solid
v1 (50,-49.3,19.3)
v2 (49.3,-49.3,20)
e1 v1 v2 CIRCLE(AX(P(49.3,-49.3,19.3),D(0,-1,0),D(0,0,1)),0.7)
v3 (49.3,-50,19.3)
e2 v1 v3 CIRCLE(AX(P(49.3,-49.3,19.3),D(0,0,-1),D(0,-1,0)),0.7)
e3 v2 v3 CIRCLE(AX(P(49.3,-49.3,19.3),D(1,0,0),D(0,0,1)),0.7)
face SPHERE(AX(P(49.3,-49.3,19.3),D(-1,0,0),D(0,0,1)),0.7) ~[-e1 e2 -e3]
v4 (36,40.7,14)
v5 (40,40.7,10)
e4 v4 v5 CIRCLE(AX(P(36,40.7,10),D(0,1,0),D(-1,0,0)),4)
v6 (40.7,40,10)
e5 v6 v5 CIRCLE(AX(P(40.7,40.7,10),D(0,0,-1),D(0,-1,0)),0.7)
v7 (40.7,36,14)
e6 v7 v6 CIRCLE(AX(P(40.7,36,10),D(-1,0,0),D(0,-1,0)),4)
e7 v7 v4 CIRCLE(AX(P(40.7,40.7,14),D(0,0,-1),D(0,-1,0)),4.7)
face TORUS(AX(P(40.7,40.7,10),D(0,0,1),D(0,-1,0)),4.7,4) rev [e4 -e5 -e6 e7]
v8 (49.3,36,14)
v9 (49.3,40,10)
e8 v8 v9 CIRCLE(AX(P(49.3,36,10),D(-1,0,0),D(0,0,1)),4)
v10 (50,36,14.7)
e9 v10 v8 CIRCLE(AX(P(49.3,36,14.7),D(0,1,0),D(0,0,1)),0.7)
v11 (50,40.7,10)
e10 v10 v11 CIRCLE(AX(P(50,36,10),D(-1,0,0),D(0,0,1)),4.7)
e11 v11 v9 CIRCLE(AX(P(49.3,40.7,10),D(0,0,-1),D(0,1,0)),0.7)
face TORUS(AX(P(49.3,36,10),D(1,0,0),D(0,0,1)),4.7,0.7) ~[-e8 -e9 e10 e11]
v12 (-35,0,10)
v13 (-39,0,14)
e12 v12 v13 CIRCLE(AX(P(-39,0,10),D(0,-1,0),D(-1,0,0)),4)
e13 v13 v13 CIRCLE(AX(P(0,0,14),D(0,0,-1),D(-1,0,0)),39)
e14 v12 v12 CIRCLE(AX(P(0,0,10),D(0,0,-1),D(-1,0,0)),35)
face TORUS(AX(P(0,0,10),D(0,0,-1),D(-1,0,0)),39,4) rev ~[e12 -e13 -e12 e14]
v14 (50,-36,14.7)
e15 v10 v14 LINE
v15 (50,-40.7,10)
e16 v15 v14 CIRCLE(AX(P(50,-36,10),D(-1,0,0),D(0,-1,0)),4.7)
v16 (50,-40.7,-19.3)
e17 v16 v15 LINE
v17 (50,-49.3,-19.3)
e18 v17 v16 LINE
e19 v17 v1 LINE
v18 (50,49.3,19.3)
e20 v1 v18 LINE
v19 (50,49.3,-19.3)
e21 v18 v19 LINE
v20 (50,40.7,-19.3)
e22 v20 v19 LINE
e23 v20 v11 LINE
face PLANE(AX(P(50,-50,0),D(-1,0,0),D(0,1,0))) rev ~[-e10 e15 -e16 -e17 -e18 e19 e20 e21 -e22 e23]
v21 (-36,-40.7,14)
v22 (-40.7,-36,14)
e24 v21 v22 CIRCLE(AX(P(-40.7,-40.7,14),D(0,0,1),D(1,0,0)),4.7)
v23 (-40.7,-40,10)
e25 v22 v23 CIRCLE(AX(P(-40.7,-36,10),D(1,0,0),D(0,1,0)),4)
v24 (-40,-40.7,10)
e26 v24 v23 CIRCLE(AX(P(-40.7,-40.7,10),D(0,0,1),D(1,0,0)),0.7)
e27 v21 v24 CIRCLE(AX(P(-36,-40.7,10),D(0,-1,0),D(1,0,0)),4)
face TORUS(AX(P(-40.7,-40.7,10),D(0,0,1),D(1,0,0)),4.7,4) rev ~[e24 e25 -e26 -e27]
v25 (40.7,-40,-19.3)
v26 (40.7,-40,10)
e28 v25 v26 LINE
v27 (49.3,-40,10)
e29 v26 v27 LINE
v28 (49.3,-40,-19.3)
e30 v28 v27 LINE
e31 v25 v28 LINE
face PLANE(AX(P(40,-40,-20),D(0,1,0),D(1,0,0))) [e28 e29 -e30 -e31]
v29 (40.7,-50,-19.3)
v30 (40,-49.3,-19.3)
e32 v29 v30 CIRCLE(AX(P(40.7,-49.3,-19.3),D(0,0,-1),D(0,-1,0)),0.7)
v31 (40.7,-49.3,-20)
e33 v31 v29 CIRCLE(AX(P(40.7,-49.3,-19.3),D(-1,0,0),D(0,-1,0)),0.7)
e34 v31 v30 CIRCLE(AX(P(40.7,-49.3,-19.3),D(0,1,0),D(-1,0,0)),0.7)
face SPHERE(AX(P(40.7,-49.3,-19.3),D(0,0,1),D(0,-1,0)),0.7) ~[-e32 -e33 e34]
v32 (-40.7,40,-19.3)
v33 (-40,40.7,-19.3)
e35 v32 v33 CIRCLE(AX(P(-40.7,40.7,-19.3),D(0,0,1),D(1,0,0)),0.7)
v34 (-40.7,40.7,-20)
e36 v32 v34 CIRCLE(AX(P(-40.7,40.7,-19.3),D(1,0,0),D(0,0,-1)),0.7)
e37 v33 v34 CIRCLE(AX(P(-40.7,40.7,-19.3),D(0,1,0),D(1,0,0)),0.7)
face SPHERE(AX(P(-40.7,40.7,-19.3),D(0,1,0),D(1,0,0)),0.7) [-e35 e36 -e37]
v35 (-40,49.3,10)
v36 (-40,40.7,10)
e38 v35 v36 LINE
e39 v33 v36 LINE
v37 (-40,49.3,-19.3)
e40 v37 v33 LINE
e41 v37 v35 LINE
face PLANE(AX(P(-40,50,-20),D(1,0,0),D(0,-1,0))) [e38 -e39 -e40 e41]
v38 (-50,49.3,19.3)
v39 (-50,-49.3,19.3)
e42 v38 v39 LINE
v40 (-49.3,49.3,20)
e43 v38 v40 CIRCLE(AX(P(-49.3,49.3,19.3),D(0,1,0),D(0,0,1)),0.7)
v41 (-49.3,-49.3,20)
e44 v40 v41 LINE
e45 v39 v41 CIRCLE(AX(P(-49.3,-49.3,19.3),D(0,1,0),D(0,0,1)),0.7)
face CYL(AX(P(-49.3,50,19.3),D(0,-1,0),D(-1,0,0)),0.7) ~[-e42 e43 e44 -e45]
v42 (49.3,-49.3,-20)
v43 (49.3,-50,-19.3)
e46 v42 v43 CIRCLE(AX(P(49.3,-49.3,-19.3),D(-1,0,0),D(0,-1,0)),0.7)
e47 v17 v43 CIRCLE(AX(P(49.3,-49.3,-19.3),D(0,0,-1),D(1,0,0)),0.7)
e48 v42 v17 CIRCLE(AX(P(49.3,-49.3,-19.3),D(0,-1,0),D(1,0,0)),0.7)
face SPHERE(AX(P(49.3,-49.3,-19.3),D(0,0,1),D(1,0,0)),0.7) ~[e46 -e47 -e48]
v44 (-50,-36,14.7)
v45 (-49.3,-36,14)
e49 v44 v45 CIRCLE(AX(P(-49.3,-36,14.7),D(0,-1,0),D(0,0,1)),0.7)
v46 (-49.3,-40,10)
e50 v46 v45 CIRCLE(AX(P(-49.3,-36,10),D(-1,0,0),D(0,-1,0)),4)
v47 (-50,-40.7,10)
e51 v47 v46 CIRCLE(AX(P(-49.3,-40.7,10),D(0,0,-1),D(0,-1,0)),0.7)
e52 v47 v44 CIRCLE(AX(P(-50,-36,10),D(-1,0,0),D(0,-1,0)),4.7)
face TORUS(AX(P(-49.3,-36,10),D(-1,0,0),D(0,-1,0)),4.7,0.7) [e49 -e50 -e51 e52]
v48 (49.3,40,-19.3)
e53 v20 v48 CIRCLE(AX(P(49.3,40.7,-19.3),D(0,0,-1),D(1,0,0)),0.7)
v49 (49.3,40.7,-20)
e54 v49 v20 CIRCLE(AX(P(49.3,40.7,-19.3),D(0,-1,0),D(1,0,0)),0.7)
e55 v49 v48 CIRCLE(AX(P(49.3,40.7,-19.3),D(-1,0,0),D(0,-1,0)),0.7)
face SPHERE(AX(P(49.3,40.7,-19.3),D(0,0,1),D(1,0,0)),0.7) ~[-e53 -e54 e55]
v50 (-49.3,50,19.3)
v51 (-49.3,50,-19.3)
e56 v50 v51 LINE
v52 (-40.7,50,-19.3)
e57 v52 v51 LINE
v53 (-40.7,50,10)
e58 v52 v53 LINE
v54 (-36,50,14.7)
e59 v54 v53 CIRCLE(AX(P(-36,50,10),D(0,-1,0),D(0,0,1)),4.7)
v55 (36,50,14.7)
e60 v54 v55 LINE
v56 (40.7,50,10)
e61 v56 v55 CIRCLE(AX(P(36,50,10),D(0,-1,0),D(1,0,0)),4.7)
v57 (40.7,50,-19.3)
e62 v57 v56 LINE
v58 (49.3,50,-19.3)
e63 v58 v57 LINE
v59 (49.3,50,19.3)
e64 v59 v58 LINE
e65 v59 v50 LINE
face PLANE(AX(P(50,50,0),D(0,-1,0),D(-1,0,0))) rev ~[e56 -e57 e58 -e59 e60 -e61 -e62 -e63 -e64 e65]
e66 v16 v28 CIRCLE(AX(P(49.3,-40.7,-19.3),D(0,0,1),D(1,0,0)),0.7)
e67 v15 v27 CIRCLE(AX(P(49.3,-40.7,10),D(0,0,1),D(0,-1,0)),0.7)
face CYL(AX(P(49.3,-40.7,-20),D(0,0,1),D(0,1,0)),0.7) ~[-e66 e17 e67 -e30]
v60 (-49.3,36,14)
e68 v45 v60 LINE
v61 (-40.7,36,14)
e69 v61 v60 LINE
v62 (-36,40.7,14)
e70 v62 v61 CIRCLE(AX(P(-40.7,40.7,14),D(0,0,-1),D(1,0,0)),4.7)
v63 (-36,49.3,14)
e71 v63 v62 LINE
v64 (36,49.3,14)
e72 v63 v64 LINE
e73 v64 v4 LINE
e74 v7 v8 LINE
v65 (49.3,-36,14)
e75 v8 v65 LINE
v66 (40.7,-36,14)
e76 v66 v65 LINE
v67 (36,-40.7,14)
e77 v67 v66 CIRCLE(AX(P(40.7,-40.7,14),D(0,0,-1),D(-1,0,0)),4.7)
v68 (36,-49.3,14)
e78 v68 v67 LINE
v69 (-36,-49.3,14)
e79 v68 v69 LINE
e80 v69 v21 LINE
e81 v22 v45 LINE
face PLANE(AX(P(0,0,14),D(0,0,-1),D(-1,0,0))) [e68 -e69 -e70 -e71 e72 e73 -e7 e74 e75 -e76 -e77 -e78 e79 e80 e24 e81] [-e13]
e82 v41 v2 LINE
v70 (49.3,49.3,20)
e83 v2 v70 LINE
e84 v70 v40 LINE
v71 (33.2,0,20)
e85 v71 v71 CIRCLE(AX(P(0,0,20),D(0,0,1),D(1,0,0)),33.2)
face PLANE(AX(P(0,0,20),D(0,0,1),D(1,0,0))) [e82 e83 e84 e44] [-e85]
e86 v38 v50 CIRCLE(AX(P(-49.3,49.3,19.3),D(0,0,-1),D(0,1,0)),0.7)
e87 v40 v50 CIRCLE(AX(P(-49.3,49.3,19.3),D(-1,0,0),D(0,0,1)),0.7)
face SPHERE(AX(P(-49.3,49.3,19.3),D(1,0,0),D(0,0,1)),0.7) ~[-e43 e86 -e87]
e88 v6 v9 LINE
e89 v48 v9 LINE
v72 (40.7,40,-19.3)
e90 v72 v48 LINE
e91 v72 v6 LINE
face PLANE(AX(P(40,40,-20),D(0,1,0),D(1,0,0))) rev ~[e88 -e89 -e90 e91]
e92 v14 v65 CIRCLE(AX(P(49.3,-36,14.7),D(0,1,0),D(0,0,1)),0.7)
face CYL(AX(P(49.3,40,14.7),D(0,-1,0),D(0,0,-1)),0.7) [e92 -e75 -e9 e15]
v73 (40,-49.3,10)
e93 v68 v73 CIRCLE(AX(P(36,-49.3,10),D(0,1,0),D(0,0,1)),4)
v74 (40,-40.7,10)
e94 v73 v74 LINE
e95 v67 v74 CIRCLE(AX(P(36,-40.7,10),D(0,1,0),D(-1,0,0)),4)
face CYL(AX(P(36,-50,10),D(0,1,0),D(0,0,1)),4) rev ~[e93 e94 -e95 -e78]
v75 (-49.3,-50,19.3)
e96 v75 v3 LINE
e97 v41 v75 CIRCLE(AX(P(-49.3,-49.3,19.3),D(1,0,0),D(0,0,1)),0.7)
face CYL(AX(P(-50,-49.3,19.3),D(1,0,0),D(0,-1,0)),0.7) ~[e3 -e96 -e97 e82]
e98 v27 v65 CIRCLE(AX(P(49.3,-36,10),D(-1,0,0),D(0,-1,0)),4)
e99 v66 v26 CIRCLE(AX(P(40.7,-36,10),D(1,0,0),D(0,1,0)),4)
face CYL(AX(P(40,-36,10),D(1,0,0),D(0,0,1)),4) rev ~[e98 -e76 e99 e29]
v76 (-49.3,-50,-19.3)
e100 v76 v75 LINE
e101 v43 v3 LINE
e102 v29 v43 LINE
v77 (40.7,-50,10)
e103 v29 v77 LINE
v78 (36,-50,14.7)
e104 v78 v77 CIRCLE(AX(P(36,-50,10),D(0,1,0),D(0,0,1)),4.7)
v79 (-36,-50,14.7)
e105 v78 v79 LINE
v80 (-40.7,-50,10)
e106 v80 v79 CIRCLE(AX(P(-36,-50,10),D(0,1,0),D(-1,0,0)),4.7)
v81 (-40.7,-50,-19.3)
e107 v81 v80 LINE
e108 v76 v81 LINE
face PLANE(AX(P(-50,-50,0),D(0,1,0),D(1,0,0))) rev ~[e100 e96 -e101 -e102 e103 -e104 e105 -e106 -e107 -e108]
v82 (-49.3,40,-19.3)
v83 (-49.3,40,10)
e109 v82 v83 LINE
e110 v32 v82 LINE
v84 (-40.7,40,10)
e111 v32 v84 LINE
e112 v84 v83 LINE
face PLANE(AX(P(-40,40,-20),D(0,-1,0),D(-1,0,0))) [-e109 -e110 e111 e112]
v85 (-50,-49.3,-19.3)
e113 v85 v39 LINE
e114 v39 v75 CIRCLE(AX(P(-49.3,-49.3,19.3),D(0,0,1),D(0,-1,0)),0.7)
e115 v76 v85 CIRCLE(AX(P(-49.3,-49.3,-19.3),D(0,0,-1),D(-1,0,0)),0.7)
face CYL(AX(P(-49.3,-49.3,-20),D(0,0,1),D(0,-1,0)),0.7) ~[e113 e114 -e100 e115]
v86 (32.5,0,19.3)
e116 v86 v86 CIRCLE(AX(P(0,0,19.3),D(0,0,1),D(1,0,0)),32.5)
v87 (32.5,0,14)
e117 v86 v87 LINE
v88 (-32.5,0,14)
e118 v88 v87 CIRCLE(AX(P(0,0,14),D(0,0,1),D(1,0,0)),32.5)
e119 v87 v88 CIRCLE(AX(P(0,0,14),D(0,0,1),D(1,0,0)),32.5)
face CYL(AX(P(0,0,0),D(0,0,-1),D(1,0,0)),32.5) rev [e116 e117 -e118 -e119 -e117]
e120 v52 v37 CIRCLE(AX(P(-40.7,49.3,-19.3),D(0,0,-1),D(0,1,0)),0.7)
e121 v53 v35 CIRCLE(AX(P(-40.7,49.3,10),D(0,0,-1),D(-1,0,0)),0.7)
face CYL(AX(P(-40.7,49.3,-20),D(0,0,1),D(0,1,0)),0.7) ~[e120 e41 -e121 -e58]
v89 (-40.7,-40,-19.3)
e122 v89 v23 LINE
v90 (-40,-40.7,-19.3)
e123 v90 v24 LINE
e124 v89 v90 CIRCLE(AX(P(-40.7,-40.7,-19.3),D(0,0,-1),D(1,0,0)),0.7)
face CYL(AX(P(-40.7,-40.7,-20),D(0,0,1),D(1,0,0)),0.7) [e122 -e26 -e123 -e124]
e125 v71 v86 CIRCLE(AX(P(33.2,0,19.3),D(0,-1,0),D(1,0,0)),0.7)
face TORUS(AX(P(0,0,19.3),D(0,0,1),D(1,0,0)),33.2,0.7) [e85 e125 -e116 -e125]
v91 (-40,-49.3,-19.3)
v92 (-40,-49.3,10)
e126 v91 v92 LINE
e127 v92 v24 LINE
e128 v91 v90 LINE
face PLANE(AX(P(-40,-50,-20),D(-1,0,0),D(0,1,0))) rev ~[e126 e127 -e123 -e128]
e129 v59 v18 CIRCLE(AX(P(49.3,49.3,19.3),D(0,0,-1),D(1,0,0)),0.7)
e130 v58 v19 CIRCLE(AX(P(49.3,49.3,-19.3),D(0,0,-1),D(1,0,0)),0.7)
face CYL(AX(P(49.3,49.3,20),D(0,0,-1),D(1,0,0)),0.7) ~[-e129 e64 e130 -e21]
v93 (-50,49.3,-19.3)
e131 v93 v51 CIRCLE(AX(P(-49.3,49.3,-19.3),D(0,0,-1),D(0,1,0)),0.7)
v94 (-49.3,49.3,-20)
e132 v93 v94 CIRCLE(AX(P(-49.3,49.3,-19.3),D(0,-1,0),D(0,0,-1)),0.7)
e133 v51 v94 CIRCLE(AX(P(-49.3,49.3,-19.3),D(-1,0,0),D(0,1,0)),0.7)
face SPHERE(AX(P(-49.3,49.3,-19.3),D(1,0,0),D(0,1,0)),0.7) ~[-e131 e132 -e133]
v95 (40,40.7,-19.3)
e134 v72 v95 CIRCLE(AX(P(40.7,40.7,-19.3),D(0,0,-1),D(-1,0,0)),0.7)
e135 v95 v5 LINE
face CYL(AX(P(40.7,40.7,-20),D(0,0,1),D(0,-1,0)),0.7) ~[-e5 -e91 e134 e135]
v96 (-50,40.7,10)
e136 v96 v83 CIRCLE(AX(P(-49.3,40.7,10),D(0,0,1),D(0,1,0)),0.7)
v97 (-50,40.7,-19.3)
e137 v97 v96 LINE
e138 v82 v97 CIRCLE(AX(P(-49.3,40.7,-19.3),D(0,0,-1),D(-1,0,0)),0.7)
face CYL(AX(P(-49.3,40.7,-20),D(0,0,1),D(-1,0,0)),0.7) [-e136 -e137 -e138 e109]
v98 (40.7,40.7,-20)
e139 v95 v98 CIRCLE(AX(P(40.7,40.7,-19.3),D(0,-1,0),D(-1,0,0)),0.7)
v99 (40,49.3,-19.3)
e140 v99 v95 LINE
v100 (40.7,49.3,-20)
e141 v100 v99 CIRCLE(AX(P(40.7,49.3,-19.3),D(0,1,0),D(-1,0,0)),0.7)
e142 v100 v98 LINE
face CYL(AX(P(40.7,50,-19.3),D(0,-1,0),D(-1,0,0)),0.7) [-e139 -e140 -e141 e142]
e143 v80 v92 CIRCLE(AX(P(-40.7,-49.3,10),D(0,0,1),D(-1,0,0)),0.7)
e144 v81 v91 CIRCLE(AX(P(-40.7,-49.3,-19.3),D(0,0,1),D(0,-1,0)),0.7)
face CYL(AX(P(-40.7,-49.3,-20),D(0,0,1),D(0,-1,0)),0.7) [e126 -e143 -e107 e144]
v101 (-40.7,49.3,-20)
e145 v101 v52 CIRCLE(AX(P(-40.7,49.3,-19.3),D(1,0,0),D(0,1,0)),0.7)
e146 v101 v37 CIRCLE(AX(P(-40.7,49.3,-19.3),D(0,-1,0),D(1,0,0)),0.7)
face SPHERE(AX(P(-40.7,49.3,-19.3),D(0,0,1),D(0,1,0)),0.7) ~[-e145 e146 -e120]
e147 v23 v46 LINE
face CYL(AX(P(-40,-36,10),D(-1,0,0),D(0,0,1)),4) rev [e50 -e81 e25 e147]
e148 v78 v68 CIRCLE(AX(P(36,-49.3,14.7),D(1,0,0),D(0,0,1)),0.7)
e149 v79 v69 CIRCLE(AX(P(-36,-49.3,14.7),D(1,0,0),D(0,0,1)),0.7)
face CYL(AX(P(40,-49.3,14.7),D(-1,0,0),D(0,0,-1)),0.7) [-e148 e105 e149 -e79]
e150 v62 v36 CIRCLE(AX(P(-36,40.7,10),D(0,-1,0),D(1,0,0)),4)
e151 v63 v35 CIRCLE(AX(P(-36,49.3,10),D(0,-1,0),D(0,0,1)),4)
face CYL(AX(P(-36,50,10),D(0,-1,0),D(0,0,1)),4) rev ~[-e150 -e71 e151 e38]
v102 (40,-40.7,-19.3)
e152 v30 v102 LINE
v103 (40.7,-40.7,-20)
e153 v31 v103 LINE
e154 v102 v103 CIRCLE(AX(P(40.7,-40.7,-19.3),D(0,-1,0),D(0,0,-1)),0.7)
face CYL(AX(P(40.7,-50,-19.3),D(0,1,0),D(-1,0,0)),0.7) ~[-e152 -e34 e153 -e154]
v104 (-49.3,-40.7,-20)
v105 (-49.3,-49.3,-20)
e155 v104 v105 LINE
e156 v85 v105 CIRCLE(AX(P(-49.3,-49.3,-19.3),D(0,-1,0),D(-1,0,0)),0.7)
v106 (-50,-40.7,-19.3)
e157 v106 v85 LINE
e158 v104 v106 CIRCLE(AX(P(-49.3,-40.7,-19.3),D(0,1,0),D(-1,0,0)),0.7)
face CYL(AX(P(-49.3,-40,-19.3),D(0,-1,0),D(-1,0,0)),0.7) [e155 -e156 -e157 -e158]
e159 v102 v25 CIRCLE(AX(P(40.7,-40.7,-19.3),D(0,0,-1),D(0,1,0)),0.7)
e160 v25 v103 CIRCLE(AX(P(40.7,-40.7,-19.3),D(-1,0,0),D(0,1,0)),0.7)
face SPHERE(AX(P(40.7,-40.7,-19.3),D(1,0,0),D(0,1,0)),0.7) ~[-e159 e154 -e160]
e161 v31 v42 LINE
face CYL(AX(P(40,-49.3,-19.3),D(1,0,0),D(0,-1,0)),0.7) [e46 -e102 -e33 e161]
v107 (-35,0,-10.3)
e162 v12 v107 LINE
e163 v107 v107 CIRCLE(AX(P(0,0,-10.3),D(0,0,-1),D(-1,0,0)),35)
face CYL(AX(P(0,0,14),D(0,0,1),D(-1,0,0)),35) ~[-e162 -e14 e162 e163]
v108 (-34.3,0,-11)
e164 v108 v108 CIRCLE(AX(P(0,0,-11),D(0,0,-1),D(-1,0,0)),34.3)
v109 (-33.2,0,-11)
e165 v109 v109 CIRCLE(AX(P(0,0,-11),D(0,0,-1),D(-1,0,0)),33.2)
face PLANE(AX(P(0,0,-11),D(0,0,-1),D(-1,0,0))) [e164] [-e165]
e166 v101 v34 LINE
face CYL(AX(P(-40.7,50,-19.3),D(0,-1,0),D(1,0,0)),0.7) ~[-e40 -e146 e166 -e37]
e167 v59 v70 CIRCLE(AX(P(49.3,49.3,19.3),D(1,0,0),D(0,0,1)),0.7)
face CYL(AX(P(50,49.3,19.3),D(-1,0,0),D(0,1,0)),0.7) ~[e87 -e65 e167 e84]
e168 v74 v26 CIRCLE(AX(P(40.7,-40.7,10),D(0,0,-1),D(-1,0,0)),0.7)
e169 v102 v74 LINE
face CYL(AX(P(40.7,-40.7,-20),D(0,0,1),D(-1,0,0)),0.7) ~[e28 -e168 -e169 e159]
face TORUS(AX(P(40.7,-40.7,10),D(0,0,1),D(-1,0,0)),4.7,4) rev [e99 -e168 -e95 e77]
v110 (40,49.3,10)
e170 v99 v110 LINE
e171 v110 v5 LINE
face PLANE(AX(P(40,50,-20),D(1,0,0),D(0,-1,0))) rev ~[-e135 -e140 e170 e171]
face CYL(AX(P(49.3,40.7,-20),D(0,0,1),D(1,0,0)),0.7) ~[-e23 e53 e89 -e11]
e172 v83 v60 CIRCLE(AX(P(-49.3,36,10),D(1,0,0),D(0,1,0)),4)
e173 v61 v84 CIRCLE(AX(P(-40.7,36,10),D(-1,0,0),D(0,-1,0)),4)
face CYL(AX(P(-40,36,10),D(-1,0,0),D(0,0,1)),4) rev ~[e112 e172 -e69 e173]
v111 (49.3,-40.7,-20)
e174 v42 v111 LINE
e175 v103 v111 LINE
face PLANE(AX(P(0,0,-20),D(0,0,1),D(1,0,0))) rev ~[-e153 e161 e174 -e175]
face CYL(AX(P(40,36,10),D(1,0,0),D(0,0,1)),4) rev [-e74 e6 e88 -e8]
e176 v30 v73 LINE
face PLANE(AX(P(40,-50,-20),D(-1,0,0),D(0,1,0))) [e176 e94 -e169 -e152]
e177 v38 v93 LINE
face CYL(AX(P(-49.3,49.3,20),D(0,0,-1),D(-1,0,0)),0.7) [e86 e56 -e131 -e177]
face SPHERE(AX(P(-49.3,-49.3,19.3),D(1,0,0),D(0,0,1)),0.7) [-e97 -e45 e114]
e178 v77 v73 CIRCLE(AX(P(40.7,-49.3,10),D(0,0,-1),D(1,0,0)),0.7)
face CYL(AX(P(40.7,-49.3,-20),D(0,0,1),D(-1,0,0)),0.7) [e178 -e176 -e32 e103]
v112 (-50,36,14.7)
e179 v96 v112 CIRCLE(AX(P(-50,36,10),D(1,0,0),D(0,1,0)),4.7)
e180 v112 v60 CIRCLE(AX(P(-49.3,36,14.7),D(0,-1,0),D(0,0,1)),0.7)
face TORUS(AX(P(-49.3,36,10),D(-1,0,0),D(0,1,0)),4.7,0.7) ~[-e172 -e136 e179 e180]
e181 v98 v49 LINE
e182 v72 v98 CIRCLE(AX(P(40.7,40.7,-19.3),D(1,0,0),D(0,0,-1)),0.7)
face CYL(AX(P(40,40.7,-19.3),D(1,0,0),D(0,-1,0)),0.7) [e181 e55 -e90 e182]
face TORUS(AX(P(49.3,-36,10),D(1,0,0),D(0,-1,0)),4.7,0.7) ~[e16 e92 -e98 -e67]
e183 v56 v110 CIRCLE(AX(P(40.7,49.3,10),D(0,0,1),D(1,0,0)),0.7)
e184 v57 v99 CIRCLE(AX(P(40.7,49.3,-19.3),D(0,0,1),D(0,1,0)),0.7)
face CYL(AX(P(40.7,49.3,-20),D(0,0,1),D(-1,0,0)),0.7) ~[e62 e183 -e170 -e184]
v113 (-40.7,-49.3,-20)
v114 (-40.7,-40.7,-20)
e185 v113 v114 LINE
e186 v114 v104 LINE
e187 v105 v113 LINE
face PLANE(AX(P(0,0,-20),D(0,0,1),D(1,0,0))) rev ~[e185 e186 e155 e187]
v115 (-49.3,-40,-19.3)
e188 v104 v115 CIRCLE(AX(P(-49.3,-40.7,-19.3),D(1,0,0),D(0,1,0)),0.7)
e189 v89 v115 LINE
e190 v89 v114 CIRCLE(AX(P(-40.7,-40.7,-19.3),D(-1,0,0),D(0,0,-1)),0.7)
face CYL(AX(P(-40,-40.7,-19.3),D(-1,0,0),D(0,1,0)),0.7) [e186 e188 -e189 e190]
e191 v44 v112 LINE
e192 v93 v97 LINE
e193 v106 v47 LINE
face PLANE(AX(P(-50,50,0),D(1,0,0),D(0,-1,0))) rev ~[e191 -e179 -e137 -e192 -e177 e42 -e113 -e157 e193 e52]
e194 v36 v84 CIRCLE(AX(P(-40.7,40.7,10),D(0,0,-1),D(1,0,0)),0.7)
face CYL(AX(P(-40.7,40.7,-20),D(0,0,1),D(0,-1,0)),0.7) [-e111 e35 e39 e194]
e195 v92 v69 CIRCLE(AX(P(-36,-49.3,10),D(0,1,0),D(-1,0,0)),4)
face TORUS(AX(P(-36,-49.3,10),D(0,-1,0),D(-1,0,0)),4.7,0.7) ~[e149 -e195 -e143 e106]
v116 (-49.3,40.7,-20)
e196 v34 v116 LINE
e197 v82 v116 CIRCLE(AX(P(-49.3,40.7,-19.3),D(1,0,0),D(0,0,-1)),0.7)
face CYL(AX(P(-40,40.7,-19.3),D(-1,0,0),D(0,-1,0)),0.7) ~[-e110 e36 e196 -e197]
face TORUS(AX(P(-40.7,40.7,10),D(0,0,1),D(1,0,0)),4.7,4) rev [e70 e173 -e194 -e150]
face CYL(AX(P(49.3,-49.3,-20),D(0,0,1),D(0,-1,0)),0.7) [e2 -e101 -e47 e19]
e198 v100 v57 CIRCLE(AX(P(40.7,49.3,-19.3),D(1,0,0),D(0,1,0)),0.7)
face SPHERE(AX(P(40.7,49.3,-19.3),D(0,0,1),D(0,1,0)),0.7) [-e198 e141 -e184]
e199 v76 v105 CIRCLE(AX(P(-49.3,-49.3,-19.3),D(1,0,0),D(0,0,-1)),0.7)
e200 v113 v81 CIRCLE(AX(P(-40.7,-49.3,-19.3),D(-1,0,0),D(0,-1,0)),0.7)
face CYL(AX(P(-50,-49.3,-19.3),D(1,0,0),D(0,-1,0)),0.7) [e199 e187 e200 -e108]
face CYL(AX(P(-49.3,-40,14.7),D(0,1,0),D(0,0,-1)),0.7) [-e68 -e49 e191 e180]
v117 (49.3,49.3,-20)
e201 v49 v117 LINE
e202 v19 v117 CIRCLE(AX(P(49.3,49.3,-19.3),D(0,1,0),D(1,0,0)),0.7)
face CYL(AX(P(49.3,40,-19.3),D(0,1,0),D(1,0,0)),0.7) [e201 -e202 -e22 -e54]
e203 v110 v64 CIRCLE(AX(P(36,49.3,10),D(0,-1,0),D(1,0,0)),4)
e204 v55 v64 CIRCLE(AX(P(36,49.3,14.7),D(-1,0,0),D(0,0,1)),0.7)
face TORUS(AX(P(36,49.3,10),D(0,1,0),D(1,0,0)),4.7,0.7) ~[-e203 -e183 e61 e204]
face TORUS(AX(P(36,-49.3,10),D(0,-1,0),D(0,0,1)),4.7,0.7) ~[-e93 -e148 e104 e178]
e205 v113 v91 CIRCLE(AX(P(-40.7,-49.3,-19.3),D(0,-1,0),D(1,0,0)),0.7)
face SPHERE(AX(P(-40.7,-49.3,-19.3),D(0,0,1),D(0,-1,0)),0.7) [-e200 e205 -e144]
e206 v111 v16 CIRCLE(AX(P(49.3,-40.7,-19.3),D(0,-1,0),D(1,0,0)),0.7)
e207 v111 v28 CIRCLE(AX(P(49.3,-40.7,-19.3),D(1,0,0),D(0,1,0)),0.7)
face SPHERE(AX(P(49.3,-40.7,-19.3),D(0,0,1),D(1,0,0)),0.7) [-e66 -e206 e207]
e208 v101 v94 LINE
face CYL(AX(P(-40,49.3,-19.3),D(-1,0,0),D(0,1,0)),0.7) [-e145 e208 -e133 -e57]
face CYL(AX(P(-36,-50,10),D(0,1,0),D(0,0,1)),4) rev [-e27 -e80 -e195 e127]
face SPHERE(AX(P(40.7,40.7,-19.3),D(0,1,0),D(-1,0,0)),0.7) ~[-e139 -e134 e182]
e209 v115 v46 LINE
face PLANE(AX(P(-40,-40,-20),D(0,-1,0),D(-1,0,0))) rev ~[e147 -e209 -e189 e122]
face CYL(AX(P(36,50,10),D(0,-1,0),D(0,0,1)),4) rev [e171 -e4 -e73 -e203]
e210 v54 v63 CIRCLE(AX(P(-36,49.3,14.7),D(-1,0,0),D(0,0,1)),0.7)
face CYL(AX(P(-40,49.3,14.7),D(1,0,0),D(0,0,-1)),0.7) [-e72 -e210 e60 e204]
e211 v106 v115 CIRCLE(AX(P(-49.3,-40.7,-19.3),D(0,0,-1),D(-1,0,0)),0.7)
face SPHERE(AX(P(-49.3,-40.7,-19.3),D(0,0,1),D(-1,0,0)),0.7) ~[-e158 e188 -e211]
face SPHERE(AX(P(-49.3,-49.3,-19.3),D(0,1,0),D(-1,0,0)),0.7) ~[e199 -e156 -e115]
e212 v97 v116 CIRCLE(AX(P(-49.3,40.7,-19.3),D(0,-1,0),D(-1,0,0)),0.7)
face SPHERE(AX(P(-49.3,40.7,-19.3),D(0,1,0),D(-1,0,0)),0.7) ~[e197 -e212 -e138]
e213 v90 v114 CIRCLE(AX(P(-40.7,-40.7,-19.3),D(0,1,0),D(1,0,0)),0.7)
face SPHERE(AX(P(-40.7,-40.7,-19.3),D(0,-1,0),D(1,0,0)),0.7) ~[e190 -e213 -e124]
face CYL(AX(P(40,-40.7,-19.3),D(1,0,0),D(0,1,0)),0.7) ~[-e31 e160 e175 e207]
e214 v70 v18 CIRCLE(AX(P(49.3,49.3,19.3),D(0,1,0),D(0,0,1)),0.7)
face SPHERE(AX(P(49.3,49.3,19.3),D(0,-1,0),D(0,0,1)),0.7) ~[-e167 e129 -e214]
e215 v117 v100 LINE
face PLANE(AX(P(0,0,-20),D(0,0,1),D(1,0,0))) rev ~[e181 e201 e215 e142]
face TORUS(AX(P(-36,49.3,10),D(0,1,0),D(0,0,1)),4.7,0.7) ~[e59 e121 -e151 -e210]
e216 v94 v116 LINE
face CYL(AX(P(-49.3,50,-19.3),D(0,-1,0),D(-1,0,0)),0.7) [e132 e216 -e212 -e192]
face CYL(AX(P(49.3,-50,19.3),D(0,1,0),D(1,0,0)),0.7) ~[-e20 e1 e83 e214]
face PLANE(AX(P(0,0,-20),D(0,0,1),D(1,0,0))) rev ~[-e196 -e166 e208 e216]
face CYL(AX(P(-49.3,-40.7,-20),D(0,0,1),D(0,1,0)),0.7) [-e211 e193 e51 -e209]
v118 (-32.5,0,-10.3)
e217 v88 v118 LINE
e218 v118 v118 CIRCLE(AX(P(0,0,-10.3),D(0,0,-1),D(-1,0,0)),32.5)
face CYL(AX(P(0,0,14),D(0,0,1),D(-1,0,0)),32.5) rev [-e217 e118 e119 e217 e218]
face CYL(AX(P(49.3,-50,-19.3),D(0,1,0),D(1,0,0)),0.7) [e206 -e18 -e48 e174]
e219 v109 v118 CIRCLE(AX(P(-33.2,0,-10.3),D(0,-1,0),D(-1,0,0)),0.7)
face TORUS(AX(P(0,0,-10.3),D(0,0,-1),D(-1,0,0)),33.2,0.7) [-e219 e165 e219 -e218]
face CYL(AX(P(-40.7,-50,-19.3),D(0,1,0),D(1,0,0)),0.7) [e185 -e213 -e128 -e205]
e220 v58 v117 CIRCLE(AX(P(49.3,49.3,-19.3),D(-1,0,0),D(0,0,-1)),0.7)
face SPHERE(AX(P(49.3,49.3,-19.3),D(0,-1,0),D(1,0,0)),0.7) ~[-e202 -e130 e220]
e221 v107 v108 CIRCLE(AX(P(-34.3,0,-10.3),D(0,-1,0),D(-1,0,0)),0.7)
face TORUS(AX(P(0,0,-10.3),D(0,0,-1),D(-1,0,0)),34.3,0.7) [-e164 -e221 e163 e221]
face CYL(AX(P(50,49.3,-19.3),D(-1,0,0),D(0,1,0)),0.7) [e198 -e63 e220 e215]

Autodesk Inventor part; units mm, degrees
ref_plane "YZ Plane" through (0, 0, 0) normal (1, 0, 0) x (0, 1, 0)
ref_plane "XZ Plane" through (0, 0, 0) normal (0, 1, 0) x (-1, 0, 0)
ref_plane "XY Plane" through (0, 0, 0) normal (0, 0, 1) x (1, 0, 0)
sketch "Sketch1" plane through (0, 0, 0) normal (0, 0, 1) x (1, 0, 0)
  line L0 (-50, -50) -> (50, -50)
  line L1 (50, -50) -> (50, 50)
  line L2 (50, 50) -> (-50, 50)
  line L3 (-50, 50) -> (-50, -50)
  line L4 (-50, -50) -> (50, 50) construction
  line L5 (50, -50) -> (-50, 50) construction
  circle A0 centre (0, 0) radius 32.5
  dimension "d0" = 100
  dimension "d1" = 65
extrude "Extrusion1" add sketch "Sketch1" along normal mid plane 40
sketch "Sketch2" plane through (0, 0, -20) normal (0, 0, -1) x (-1, 0, 0)
  circle A0 centre (0, 0) radius 32.5 projected
  line L0 (-50, -50) -> (50, -50) projected
  line L1 (50, -50) -> (50, 50) projected
  line L2 (50, 50) -> (-50, 50) projected
  line L3 (-50, 50) -> (-50, -50) projected
  line L4 (-50, -50) -> (-50, 50) projected
  line L5 (-50, 50) -> (-40, 50)
  line L6 (-40, 50) -> (-40, 40)
  line L7 (-40, 40) -> (-50, 40)
  line L8 (-50, 40) -> (-50, 50)
  line L9 (50, 50) -> (40, 50)
  line L10 (40, 50) -> (40, 40)
  line L11 (40, 40) -> (50, 40)
  line L12 (50, 40) -> (50, 50)
  line L13 (50, -50) -> (-50, -50) projected
  line L14 (50, -50) -> (40, -50)
  line L15 (40, -50) -> (40, -40)
  line L16 (40, -40) -> (50, -40)
  line L17 (50, -40) -> (50, -50)
  line L18 (-50, -50) -> (-40, -50)
  line L19 (-40, -50) -> (-40, -40)
  line L20 (-40, -40) -> (-50, -40)
  line L21 (-50, -40) -> (-50, -50)
  dimension "d4" = 10
extrude "Extrusion2" cut sketch "Sketch2" against normal blind 34 contours L19 L20 L3 L7 L6 L2 L10 L11 L1 L16 L15 L0
sketch "Sketch3" plane through (0, 0, 14) normal (0, 0, -1) x (-1, 0, 0)
  circle A0 centre (0, 0) radius 32.5 projected
  line L0 (-40, -40) -> (-50, -40) projected
  line L1 (-40, -50) -> (-40, -40) projected
  line L2 (40, -50) -> (-40, -50) projected
  line L3 (40, -40) -> (40, -50) projected
  line L4 (50, -40) -> (40, -40) projected
  line L5 (50, 40) -> (50, -40) projected
  line L6 (40, 40) -> (50, 40) projected
  line L7 (40, 50) -> (40, 40) projected
  line L8 (-40, 50) -> (40, 50) projected
  line L9 (-40, 40) -> (-40, 50) projected
  line L10 (-50, 40) -> (-40, 40) projected
  line L11 (-50, -40) -> (-50, 40) projected
  circle A1 centre (0, 0) radius 35
  dimension "d7" = 70
extrude "Extrusion3" add sketch "Sketch3" along normal blind 25 contours A1
fillet "Fillet1" radius 4 9 edges at (45, 40, 14) (40, 45, 14) (-40, 45, 14) (-45, 40, 14) (-40, -45, 14) (-45, -40, 14) (40, -45, 14) (45, -40, 14) (35, 0, 14)
fillet "Fillet1" radius 0.7 43 edges at (0, -50, 20) (50, 0, 20) (0, 50, 20) (-50, 0, 20) (50, -40, -3) (50, 0, 14) (50, 40, -3) (50, 45, -20) (50, 50, 0) (50, -50, 0) (50, -45, -20) (40, 50, -3) (0, 50, 14) (-40, 50, -3) (-45, 50, -20) (-50, 50, 0) (45, 50, -20) (-50, -40, -3) (-50, -45, -20) (-50, -50, 0) (-50, 45, -20) (-50, 40, -3) (-50, 0, 14) (-40, -50, -3) (0, -50, 14) (40, -50, -3) (45, -50, -20) (-45, -50, -20) (-40, -45, -20) (-40, -40, -3) (-45, -40, -20) (-40, 45, -20) (-40, 40, -3) (-45, 40, -20) (40, 45, -20) (40, 40, -3) (45, 40, -20) (45, -40, -20) (40, -40, -3) (40, -45, -20) (35, 0, -11) (32.5, 0, -11) (-32.5, 0, 20)
properties part number "P-POD_Plunger" material "Aluminum 6061"
